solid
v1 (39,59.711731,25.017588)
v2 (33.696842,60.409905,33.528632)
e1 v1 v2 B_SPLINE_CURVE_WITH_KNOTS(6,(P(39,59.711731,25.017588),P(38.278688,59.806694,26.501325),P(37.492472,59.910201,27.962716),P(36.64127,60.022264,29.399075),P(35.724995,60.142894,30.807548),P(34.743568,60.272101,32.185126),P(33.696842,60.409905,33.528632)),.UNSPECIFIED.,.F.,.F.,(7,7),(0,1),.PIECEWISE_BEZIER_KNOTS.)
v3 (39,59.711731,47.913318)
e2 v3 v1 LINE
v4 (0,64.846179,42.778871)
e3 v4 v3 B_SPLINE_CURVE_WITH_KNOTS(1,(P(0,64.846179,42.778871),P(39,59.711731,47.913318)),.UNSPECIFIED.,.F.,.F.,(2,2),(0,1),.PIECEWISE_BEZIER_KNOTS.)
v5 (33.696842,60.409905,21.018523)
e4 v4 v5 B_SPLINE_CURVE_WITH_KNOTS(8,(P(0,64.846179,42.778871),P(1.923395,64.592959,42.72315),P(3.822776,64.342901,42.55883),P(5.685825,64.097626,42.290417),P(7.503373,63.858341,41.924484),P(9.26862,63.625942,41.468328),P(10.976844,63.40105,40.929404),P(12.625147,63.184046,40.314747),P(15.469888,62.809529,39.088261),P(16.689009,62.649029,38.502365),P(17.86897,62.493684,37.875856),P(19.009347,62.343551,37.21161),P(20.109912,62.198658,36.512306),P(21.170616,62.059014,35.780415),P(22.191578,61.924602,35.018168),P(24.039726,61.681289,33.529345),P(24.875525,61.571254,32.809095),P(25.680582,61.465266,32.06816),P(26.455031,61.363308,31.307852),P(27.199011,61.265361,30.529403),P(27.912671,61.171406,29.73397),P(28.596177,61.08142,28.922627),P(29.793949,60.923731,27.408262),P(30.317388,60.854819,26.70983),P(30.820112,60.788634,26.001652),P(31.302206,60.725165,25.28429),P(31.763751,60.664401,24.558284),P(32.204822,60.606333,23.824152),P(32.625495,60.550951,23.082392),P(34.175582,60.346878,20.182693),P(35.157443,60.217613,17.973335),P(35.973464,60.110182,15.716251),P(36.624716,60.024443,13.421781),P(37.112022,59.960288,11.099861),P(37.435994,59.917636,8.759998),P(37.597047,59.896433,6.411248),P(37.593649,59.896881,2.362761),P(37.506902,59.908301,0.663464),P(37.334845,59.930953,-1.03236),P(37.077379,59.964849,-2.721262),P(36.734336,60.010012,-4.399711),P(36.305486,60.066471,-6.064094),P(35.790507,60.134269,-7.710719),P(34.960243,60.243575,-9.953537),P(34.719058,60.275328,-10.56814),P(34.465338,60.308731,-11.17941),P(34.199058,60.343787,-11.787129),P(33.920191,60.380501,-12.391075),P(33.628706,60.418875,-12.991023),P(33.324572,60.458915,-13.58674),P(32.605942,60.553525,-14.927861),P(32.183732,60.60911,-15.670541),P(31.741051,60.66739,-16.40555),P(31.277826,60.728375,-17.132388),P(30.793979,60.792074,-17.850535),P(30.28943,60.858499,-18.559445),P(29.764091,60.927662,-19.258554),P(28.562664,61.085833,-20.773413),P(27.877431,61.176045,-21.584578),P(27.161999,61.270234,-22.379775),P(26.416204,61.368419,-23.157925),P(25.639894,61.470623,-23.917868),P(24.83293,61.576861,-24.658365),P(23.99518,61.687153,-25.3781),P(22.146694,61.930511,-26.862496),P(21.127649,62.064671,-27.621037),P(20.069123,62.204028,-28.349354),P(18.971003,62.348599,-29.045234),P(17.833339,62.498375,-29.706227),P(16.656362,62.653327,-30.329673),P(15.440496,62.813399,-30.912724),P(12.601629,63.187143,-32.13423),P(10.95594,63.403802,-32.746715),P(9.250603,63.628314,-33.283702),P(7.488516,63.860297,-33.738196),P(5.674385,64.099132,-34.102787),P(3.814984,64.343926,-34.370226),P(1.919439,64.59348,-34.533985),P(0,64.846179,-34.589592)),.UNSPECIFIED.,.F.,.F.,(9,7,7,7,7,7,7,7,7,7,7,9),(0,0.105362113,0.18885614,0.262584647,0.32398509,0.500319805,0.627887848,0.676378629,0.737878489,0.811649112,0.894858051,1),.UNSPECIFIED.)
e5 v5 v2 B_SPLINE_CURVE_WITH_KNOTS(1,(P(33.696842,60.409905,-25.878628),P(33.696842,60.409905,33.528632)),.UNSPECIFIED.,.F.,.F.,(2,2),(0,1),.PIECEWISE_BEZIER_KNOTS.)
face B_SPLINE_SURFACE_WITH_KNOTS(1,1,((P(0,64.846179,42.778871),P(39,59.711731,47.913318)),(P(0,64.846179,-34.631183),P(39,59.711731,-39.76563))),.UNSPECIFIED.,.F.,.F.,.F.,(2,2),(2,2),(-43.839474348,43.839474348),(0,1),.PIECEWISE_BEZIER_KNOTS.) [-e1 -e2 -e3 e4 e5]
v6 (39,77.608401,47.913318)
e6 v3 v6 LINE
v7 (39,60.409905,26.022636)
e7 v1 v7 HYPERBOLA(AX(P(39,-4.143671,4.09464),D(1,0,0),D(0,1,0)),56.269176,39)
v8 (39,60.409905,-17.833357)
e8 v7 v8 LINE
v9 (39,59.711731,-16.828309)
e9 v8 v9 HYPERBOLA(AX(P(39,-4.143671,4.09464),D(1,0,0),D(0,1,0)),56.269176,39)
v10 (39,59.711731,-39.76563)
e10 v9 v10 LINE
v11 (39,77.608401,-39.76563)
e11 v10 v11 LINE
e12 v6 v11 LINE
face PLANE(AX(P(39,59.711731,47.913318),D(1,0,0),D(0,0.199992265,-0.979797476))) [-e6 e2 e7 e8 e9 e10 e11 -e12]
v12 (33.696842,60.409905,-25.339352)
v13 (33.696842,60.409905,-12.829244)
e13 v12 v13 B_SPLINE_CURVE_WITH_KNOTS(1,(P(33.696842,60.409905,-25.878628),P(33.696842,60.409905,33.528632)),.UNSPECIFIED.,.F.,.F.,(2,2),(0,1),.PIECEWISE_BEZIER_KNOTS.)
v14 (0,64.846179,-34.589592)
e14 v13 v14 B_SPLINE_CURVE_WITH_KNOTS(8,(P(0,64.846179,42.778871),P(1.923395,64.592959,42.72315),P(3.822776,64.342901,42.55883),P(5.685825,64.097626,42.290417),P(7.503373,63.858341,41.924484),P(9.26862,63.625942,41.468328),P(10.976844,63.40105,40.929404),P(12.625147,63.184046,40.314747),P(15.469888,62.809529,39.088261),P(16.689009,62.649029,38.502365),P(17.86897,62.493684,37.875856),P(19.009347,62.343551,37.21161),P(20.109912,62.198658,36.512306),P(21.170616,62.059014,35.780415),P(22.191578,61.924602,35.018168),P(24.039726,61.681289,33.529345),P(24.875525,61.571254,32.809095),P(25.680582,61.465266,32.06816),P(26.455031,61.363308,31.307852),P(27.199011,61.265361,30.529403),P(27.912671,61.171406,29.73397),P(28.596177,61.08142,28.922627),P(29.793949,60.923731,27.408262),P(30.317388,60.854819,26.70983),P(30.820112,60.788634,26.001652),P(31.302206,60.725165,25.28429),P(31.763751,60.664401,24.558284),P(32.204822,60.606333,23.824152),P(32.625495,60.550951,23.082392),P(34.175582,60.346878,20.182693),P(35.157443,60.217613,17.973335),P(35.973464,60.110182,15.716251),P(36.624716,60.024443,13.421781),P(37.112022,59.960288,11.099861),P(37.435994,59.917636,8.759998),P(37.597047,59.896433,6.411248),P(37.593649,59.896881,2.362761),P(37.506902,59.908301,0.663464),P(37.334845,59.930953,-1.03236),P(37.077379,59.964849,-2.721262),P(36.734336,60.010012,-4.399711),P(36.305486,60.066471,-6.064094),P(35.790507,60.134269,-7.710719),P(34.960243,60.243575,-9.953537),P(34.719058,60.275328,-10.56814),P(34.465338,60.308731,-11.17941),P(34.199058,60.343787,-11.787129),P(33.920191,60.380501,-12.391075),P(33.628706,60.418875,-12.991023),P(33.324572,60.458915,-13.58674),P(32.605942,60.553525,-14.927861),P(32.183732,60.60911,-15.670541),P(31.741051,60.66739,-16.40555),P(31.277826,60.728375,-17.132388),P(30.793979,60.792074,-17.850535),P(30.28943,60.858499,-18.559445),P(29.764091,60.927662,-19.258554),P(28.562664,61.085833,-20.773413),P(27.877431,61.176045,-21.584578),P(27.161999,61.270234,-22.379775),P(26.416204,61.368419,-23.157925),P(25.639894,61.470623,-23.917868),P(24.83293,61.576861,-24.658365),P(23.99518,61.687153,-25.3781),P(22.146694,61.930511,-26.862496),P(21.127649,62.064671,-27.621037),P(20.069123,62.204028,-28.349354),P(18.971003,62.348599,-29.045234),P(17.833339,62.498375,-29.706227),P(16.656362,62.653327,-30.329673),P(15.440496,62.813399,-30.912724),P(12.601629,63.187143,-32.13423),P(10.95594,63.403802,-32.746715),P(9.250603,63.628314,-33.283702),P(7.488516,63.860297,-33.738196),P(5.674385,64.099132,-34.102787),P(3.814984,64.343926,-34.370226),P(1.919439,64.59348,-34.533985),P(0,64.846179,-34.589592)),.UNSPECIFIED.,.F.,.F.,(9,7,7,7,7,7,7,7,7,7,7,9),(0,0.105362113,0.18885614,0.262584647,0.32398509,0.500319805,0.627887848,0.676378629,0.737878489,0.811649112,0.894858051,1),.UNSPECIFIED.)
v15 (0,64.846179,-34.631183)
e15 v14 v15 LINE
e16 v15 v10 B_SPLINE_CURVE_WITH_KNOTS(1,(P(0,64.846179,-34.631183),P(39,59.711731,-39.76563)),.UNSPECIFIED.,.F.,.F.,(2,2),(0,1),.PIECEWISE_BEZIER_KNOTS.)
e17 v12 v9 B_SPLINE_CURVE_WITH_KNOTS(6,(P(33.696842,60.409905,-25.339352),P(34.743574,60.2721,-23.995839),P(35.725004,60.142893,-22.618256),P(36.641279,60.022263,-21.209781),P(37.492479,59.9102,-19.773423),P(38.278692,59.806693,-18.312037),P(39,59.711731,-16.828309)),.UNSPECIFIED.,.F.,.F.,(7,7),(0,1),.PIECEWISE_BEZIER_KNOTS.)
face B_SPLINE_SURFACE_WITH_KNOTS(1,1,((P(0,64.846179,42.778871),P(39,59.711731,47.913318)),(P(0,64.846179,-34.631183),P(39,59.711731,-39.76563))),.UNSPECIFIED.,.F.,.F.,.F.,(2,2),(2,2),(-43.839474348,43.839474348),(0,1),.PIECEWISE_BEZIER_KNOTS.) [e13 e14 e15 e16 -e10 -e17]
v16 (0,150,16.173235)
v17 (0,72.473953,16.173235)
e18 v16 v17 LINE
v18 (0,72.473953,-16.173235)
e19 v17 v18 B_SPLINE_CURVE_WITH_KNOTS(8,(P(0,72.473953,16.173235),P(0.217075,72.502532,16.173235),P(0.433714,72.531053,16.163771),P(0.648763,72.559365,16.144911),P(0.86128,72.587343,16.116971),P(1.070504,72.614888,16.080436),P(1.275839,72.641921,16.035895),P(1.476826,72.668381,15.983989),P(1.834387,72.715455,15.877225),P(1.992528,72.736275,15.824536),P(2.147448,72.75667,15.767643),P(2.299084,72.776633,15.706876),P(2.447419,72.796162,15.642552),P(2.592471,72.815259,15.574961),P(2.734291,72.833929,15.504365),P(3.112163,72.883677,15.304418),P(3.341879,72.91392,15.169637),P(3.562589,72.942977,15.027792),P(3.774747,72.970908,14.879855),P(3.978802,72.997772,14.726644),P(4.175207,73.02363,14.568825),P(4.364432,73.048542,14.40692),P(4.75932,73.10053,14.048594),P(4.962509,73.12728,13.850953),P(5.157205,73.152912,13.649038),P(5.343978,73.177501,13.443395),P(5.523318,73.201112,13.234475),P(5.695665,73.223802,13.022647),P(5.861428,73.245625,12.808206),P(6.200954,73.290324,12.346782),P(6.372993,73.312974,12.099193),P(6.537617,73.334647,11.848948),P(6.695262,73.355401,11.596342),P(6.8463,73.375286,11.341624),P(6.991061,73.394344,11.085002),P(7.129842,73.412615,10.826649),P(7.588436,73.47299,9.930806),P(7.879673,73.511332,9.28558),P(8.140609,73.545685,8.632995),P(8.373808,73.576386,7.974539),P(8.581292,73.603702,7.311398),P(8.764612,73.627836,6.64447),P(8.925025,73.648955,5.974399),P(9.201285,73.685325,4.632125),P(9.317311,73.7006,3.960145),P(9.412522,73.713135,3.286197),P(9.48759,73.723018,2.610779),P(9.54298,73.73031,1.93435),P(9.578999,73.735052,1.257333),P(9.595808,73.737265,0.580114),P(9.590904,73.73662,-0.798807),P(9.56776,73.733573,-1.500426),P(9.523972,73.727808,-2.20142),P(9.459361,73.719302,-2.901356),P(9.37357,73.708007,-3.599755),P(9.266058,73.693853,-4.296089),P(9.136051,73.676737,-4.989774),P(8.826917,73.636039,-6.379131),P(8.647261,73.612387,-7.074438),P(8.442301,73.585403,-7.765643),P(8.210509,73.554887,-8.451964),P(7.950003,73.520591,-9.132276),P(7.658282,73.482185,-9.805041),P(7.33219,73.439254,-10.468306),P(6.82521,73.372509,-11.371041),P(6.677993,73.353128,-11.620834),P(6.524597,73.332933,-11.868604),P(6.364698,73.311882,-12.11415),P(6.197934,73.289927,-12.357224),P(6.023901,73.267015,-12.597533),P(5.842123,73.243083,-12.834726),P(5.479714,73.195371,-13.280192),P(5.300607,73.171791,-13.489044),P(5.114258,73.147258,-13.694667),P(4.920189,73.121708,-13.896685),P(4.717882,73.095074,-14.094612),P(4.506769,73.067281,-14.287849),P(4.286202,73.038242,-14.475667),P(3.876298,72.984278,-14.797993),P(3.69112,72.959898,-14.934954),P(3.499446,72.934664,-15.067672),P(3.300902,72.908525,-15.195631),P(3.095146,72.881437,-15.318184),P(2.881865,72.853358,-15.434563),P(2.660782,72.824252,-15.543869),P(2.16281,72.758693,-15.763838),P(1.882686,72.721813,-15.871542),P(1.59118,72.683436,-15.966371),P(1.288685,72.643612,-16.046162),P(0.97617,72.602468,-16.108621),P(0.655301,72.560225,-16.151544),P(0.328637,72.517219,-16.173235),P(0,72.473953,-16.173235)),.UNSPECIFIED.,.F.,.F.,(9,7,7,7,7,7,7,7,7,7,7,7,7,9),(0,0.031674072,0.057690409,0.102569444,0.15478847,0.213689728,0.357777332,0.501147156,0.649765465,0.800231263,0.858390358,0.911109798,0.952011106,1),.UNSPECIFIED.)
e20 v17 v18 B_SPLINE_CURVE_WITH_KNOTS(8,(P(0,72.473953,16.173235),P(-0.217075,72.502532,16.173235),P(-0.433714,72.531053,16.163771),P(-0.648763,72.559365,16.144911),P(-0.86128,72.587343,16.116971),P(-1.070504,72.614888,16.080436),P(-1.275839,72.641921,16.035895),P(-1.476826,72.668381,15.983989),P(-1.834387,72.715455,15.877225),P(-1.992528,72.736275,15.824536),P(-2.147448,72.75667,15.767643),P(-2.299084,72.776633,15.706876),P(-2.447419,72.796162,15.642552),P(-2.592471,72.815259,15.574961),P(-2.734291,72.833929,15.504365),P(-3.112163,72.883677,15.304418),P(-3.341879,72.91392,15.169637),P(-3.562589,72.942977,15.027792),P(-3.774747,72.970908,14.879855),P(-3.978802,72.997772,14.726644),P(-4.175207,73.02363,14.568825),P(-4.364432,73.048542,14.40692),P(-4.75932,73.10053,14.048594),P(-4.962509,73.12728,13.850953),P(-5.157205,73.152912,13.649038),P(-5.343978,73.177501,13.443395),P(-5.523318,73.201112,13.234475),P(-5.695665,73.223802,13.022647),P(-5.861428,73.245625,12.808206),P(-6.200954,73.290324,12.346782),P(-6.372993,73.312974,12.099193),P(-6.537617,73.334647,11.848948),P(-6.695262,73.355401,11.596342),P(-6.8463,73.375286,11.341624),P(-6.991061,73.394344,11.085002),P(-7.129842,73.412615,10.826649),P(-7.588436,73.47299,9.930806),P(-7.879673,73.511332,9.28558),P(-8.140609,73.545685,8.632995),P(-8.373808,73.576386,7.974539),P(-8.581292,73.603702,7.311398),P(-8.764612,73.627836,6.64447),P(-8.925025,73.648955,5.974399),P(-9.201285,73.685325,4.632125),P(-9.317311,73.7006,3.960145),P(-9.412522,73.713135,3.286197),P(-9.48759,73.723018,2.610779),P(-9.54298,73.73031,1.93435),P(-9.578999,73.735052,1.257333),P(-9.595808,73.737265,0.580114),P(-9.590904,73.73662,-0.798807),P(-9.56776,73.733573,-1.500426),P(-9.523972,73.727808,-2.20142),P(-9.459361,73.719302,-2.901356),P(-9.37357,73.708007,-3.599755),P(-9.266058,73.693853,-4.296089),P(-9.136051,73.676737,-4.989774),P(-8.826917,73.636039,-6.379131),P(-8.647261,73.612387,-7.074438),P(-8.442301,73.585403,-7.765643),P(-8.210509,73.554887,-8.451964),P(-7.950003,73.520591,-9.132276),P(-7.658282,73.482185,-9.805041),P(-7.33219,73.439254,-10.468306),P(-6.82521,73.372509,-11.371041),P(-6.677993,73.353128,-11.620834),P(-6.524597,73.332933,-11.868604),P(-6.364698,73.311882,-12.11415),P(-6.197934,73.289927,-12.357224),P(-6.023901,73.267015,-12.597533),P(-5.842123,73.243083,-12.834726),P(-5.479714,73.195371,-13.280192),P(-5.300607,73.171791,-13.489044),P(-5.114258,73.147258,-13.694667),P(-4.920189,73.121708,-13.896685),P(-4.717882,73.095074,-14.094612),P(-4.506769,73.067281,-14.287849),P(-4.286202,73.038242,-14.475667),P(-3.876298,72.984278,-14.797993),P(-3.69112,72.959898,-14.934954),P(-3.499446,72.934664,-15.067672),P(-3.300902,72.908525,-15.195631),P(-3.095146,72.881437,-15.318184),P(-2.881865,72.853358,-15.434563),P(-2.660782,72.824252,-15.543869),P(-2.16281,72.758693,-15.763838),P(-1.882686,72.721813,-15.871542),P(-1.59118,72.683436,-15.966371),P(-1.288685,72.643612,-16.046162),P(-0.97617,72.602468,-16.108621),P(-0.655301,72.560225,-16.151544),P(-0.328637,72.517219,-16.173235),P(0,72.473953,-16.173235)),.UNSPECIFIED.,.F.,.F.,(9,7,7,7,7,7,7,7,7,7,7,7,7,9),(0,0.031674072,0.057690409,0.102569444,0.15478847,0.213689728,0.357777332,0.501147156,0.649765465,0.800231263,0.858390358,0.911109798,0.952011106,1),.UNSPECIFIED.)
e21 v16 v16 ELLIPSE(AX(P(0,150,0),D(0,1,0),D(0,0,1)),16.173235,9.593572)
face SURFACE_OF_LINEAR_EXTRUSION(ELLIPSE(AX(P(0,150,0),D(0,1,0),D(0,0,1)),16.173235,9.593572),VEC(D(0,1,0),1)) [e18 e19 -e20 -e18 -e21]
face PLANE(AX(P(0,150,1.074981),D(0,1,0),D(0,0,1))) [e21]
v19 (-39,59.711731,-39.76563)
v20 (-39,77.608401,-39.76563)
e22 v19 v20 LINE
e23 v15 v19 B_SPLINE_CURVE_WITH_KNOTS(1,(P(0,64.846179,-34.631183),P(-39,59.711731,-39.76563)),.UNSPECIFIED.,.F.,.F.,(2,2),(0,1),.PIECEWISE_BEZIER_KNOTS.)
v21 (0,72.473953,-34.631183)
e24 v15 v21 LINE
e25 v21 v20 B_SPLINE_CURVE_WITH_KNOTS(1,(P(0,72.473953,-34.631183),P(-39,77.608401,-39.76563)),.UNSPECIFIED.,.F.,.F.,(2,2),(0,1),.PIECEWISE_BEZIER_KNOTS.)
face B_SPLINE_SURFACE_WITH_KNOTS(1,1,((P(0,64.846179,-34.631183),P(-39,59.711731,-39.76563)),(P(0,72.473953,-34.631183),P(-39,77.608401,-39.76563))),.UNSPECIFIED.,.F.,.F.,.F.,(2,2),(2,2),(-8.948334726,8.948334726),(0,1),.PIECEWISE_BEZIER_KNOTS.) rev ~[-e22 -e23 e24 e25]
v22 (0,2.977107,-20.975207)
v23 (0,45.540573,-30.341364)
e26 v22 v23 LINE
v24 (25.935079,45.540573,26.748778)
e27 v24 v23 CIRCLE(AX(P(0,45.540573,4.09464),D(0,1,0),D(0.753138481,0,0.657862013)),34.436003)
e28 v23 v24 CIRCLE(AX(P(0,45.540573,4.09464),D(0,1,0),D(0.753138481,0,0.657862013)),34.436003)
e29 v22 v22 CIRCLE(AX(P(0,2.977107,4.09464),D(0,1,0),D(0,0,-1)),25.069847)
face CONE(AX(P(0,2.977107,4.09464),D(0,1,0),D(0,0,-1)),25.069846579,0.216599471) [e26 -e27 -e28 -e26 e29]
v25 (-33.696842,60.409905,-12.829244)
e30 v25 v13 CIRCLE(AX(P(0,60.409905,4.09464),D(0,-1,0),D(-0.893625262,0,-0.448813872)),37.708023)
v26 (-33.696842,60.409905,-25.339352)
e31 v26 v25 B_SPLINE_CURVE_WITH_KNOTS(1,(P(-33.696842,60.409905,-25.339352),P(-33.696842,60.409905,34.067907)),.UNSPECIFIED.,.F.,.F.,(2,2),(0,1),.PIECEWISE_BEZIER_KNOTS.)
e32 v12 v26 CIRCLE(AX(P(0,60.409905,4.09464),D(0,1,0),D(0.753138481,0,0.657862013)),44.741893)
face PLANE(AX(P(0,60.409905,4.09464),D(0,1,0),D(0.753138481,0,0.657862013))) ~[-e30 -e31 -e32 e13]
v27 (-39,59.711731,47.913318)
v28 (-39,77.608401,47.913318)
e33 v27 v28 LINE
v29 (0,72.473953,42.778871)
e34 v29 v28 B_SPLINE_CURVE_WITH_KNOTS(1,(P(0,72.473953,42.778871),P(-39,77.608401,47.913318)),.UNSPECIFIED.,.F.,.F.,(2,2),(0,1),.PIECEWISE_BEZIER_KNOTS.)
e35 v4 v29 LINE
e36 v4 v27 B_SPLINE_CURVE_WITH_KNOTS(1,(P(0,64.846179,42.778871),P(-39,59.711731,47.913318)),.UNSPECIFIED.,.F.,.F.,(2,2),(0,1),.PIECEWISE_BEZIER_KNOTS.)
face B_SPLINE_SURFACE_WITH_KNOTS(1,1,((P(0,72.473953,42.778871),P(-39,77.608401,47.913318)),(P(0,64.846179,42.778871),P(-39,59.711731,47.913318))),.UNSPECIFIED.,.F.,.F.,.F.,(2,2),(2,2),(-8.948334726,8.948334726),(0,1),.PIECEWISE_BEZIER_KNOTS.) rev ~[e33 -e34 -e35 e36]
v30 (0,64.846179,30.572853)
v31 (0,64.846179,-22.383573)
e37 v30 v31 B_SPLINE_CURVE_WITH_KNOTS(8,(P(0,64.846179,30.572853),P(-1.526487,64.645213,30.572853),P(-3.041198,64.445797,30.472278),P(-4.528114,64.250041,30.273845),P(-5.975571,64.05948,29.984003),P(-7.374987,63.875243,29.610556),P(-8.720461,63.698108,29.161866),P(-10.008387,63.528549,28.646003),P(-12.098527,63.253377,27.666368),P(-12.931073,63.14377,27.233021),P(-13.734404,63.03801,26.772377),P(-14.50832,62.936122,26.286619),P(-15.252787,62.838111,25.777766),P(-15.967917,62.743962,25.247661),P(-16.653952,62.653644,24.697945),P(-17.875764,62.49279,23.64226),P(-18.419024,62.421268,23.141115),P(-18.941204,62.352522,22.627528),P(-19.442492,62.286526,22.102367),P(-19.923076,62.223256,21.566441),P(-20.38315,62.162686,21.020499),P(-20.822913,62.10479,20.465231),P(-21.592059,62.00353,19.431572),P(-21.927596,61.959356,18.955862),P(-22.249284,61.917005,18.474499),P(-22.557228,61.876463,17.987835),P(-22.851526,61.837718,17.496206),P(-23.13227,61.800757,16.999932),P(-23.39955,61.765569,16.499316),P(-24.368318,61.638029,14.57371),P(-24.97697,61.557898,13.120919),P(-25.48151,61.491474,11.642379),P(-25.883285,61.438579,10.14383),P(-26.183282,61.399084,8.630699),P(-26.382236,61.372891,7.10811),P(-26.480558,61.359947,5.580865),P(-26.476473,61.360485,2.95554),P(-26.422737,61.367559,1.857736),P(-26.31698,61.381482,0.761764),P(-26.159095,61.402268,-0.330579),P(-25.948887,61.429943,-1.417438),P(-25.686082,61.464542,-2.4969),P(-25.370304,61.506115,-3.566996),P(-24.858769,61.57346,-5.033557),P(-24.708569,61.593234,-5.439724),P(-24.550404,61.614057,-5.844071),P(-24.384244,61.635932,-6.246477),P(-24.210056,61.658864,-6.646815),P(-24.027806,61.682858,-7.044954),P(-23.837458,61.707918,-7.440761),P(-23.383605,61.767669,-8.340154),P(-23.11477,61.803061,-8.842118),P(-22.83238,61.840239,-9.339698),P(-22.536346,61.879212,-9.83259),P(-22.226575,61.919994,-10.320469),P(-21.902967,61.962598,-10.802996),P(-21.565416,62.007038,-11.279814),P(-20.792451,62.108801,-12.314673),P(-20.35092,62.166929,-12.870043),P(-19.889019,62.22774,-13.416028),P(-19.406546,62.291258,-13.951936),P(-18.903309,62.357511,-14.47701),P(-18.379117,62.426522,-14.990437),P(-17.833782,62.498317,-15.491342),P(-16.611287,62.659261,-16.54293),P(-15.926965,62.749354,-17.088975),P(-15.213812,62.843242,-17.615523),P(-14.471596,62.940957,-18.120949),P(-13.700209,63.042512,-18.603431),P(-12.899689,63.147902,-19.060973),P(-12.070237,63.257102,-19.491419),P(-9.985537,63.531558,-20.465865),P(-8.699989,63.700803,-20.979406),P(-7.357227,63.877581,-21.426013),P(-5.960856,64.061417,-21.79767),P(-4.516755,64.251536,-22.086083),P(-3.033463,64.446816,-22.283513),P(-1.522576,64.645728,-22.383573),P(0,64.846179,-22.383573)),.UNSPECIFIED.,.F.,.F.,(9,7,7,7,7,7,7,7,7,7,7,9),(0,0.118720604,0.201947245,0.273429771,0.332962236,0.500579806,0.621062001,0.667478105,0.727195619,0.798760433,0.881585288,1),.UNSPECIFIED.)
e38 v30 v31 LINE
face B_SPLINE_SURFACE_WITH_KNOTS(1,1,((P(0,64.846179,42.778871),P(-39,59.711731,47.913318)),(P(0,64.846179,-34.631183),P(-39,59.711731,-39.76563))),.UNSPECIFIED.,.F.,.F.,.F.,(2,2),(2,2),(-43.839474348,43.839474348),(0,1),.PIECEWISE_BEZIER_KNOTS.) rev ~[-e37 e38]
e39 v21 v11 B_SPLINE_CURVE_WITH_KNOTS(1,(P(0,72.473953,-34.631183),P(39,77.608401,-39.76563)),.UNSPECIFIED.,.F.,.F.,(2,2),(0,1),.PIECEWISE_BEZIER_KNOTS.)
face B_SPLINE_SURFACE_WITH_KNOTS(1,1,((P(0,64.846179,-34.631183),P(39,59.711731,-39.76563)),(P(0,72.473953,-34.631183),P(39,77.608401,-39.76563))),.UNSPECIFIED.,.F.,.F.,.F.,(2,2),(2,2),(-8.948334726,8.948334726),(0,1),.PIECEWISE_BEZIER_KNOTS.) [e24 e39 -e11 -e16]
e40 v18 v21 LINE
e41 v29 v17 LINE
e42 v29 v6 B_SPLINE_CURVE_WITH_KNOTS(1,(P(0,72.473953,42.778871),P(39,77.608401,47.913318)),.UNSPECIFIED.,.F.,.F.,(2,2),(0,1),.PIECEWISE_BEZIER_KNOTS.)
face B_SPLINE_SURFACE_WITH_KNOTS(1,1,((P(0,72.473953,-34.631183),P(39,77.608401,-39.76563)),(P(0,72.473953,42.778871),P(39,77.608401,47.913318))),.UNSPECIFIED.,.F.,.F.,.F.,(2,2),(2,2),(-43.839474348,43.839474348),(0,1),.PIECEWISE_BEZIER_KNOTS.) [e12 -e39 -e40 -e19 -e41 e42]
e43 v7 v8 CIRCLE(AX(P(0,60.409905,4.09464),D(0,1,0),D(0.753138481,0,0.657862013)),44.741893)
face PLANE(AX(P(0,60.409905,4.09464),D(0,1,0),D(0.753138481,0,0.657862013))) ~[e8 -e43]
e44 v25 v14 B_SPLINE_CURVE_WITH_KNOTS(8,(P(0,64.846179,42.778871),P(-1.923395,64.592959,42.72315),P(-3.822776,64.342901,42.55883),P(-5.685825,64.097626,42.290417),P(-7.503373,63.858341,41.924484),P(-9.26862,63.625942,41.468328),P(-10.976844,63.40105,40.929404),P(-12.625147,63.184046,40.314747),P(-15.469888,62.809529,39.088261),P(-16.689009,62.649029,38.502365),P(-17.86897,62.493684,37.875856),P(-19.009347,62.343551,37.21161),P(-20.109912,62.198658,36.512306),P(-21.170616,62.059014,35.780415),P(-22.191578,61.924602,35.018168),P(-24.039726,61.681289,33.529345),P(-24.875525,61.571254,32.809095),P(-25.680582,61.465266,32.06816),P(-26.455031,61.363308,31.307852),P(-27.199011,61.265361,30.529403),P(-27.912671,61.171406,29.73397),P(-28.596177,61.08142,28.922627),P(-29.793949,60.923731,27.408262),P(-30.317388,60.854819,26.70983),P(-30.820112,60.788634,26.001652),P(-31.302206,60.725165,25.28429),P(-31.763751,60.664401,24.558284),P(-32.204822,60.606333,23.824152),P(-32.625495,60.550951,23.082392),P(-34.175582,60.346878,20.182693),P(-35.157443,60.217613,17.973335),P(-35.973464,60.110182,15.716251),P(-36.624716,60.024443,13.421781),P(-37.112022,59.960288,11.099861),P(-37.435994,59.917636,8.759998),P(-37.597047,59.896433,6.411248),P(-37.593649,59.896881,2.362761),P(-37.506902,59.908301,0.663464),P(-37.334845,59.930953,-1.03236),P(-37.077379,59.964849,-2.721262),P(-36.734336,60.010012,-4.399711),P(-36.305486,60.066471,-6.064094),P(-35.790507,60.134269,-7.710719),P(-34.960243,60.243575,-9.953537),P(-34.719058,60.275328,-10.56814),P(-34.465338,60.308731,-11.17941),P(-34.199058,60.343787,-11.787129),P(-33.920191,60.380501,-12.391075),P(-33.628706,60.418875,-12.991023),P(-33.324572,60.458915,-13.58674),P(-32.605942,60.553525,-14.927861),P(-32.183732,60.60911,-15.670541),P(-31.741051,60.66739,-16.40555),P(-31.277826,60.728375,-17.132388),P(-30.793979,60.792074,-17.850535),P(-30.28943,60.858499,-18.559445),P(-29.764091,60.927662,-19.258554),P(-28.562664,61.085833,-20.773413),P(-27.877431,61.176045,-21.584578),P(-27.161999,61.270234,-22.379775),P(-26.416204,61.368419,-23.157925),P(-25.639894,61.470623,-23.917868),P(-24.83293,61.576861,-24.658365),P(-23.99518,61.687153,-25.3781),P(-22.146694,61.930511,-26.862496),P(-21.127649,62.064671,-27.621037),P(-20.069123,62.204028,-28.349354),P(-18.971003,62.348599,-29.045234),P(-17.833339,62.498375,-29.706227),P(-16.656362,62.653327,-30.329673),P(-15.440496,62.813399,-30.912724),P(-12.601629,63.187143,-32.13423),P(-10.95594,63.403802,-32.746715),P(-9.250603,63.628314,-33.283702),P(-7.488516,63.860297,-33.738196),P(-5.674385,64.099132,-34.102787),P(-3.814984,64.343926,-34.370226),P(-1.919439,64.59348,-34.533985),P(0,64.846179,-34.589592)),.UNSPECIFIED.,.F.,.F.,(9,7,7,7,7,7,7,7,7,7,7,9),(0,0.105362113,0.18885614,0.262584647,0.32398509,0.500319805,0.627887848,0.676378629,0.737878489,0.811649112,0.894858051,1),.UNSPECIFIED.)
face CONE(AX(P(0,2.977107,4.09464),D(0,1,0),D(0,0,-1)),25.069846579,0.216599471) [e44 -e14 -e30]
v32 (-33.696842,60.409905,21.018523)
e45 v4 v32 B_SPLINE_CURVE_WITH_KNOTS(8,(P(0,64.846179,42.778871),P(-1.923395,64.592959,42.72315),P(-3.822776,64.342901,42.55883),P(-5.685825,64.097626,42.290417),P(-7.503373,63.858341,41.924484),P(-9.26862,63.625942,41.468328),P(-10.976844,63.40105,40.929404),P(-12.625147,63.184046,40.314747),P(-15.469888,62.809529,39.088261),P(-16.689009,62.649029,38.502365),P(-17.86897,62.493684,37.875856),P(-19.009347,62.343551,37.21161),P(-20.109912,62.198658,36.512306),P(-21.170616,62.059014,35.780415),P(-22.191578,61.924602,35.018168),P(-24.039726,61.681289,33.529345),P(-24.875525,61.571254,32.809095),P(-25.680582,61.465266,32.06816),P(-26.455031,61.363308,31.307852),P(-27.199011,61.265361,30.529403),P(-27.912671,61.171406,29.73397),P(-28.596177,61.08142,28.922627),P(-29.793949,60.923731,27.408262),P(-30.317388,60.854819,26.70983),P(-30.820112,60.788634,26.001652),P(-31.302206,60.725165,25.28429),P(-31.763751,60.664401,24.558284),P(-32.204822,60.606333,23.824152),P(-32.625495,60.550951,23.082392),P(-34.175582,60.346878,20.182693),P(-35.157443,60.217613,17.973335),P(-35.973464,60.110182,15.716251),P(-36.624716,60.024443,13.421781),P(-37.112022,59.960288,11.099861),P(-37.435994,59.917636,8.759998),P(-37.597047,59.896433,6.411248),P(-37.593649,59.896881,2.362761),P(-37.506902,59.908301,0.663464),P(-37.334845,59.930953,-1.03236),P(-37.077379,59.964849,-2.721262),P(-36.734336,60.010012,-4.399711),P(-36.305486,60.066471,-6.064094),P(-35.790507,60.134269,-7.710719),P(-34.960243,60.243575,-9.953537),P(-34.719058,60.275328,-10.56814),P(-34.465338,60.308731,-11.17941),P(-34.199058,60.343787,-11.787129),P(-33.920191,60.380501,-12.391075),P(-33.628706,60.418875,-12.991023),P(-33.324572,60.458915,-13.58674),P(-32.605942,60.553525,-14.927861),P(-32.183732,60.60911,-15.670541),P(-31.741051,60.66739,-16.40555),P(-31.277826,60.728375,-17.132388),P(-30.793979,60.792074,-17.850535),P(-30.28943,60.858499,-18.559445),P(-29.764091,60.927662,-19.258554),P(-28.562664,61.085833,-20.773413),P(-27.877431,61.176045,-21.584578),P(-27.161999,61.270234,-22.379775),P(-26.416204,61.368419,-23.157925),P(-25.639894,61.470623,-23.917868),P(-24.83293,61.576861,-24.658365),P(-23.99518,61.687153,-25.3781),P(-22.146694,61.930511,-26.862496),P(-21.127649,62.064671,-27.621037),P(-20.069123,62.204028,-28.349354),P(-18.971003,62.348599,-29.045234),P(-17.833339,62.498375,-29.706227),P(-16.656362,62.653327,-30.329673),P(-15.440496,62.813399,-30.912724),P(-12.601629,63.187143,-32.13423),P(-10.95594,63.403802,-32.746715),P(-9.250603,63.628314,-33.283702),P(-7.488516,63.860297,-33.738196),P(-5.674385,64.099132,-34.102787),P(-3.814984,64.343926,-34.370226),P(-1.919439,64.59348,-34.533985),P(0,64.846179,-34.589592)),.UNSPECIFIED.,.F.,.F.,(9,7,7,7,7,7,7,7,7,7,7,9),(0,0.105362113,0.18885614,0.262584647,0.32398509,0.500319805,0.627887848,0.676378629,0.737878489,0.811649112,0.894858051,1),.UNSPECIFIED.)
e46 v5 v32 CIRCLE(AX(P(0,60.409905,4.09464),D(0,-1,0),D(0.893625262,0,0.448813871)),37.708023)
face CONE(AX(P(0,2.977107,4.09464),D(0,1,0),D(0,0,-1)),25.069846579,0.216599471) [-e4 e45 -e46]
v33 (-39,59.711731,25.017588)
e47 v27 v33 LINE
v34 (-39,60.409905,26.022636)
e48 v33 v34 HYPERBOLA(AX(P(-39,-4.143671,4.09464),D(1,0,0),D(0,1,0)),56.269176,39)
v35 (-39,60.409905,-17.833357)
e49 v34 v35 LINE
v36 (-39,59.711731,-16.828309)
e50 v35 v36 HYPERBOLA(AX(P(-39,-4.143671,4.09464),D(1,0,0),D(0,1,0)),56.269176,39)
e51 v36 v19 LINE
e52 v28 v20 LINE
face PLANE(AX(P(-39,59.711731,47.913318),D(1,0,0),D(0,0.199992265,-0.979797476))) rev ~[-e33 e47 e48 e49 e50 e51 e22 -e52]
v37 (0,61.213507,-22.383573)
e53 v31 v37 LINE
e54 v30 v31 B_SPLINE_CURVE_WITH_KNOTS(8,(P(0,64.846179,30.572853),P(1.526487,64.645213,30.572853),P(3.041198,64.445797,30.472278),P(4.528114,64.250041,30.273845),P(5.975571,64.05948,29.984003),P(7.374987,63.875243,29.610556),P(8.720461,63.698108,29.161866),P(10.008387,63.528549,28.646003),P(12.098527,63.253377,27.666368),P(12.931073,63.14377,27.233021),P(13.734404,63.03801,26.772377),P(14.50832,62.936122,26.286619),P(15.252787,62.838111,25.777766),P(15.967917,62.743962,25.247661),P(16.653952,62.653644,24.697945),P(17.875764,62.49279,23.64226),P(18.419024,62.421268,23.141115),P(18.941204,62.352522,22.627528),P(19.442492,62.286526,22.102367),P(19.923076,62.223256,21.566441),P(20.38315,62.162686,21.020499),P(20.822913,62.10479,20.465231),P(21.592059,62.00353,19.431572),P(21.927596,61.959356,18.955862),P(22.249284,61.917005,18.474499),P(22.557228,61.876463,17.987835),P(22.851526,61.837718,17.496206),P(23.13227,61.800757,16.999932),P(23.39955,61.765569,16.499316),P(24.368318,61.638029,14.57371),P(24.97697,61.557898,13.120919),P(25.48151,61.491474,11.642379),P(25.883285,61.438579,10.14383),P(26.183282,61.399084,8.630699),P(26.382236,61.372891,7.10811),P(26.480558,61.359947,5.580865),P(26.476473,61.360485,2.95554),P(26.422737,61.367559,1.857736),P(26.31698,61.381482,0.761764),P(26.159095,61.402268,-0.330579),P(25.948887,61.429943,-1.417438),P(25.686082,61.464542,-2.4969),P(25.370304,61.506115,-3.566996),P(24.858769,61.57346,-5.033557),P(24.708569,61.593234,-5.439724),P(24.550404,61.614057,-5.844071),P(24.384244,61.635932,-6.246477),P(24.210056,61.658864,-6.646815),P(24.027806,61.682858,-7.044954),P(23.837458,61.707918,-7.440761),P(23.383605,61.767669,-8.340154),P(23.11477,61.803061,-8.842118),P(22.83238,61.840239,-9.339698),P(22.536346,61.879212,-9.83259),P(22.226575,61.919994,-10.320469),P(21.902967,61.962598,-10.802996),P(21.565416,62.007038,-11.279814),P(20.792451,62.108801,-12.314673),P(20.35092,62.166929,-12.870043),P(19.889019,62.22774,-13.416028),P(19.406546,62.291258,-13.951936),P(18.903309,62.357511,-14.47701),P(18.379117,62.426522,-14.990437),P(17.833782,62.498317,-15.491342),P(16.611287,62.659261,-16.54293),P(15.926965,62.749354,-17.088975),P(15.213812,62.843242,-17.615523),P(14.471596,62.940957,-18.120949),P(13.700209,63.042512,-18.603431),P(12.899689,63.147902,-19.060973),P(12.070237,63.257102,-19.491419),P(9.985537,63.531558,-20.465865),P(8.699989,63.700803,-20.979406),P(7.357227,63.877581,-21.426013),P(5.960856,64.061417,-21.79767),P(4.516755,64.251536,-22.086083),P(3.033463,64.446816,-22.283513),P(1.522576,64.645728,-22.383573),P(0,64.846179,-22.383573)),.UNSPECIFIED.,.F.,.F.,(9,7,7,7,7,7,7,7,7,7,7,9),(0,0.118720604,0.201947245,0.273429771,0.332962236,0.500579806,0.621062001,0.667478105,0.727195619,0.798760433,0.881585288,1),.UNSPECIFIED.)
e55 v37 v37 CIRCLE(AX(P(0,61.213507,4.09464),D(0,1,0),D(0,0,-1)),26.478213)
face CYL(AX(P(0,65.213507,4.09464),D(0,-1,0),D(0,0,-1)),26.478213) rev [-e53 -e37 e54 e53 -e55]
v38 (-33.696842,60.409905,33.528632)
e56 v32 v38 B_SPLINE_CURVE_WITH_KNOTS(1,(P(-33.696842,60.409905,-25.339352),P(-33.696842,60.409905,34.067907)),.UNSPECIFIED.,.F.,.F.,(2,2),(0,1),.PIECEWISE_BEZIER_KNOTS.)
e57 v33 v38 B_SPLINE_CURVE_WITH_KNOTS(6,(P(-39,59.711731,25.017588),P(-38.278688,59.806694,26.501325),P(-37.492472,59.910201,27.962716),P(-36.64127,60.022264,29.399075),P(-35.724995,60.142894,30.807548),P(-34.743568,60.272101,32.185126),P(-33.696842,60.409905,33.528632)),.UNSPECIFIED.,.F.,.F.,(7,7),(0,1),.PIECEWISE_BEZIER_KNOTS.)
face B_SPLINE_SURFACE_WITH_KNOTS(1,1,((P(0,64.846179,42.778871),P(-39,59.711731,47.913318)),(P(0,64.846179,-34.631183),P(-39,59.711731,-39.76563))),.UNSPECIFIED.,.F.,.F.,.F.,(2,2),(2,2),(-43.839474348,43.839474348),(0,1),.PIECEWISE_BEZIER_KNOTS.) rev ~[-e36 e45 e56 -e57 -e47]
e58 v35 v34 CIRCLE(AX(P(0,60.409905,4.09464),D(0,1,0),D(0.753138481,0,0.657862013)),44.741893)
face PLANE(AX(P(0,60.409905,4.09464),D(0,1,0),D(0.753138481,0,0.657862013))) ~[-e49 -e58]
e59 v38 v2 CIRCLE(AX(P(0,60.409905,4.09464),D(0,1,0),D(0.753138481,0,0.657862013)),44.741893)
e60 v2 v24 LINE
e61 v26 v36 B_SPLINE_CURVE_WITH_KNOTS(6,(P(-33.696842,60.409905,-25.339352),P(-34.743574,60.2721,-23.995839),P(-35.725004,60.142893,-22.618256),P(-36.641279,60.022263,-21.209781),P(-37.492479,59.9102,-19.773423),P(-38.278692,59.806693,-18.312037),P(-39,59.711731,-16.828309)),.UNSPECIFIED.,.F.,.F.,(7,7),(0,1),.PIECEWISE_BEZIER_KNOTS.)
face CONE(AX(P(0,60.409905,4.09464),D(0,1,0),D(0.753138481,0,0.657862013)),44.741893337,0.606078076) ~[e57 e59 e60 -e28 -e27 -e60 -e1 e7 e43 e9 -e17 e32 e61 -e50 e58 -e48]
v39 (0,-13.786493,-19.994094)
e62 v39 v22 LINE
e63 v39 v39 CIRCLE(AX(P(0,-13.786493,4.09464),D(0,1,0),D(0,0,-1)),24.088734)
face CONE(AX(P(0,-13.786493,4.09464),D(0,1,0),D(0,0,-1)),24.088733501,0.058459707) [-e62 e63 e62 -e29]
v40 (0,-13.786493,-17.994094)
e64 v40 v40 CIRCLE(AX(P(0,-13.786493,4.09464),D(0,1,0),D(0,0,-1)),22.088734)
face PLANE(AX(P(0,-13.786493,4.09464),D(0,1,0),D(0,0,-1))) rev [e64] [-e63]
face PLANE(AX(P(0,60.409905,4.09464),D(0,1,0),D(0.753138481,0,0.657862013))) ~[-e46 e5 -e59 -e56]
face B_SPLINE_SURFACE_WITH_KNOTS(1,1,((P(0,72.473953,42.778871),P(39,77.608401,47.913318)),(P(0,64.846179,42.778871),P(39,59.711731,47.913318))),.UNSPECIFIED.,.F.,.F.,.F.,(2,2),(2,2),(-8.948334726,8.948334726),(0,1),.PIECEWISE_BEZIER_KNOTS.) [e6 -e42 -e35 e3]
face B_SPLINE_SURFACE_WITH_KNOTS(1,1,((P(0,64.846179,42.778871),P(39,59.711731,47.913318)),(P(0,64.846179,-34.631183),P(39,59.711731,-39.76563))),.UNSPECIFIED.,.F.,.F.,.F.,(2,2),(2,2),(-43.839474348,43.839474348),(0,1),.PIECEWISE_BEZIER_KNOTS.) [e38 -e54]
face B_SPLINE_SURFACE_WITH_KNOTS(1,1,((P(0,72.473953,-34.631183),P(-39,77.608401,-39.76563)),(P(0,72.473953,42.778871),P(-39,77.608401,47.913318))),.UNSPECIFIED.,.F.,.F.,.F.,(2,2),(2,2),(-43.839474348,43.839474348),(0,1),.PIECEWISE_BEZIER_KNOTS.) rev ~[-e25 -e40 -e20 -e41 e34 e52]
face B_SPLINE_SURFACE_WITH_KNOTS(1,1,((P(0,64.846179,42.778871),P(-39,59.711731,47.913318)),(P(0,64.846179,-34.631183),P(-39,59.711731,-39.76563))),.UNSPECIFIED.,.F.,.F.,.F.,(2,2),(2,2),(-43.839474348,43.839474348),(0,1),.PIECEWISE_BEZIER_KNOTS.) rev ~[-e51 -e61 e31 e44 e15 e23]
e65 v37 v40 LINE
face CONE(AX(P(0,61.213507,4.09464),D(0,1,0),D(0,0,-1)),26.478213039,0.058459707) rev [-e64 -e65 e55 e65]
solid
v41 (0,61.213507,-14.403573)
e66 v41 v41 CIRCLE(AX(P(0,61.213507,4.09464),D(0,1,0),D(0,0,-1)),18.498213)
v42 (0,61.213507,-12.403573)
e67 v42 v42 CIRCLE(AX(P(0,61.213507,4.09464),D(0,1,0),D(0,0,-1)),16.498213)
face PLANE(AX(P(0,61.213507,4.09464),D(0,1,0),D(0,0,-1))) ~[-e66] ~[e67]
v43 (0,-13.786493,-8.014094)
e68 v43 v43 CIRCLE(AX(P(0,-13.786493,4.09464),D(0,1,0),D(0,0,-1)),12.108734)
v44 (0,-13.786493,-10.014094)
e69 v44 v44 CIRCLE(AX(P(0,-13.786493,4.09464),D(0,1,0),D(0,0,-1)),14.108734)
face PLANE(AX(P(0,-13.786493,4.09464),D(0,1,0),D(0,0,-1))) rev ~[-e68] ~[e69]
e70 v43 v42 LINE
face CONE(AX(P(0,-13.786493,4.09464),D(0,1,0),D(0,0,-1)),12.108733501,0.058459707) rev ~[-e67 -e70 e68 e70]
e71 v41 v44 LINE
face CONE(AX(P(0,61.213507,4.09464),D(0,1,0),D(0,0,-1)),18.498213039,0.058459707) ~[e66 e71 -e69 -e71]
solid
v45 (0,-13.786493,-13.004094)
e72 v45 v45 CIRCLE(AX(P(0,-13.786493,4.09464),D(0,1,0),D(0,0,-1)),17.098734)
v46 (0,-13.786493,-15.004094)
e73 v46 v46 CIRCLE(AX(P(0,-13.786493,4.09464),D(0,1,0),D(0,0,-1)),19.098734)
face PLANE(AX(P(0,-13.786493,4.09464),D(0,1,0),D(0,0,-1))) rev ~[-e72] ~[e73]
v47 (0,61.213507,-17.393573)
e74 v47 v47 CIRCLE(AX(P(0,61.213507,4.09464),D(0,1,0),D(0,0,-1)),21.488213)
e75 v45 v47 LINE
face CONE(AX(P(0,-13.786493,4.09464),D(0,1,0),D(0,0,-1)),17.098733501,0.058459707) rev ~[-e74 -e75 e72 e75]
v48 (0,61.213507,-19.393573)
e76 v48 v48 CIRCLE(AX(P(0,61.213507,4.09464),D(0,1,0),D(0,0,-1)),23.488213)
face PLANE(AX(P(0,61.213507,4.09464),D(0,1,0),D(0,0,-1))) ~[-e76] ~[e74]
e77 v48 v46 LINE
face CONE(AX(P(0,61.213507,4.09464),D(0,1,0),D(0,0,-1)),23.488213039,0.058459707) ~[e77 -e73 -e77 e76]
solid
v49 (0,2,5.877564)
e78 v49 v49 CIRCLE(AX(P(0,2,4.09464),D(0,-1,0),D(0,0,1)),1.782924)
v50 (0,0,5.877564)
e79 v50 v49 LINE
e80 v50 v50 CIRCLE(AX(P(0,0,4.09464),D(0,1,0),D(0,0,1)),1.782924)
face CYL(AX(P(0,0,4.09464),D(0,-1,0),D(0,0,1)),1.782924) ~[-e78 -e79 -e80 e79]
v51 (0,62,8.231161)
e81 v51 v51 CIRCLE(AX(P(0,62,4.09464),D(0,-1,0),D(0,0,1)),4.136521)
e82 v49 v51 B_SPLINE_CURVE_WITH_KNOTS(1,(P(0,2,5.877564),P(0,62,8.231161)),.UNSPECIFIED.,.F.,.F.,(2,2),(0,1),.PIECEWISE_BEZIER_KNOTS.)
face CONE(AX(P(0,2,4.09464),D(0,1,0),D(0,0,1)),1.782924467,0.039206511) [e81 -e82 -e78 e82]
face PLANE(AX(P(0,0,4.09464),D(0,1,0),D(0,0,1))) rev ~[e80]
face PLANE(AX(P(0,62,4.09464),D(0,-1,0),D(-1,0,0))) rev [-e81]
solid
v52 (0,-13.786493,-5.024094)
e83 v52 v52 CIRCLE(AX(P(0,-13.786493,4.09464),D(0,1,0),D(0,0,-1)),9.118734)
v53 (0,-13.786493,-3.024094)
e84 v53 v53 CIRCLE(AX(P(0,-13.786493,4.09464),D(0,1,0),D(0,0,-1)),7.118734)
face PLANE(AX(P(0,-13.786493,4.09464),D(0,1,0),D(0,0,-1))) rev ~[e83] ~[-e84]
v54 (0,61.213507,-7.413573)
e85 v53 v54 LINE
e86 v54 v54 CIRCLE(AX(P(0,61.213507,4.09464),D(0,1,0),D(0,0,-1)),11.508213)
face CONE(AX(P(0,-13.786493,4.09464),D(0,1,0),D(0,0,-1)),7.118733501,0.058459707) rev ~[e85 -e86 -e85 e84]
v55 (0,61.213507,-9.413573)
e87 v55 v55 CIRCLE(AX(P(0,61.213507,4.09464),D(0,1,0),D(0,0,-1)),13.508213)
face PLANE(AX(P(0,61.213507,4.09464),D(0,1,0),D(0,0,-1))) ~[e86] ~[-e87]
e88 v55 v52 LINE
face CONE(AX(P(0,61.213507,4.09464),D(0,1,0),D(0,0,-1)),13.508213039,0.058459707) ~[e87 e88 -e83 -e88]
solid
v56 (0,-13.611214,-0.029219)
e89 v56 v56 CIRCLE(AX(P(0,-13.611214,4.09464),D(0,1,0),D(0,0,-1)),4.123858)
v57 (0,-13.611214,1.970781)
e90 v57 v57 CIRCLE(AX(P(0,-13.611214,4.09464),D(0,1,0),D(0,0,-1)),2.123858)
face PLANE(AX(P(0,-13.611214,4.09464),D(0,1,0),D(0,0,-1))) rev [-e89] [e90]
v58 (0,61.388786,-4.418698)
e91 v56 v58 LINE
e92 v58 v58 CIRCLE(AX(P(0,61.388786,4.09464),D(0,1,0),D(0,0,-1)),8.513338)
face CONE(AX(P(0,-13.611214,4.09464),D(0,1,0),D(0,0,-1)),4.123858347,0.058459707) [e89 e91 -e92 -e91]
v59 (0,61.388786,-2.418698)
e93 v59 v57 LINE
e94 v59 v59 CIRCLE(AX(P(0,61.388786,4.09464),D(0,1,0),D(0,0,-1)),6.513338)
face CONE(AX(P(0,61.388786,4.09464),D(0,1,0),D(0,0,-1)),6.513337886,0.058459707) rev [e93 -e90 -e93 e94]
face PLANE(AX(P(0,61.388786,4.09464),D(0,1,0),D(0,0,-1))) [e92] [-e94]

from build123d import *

# Parameters (mm, degrees)
CROQUIS2_R                        = 1.782924467
SALIENTE_EXTRUIR1_DEPTH           = 2
CROQUIS3_R                        = 4.136521179
CROQUIS5_W                        = 77.410053885
CROQUIS5_H                        = 7.627774641
SALIENTE_EXTRUIR2_DEPTH           = 39
SALIENTE_EXTRUIR2_TAPER           = -7.5
SALIENTE_EXTRUIR2_OTHER_WAY_DEPTH = 39
SALIENTE_EXTRUIR2_OTHER_WAY_TAPER = -7.5
CROQUIS7_RX                       = 16.173234621
CROQUIS7_RY                       = 9.593572243
SALIENTE_EXTRUIR3_DEPTH           = 78


with BuildPart() as part:
    # Croquis1 → Revolución1 (revolve)
    with BuildSketch(Plane(origin=(0, 0, 0), x_dir=(0, 0, -1), z_dir=(1, 0, 0)), mode=Mode.PRIVATE) as revoluci_n1_sk:
        Polygon((-15.602852663, 61.213506643), (-17.602852663, 61.213506643), (-13.213373125, -13.786493357), (-11.213373125, -13.786493357), align=None)
        Polygon((-16.203373125, -13.786493357), (-20.592852663, 61.213506643), (-22.592852663, 61.213506643), (-18.203373125, -13.786493357), align=None)
        Polygon((-21.193373125, -13.786493357), (-25.582852663, 61.213506643), (-27.582852663, 61.213506643), (-23.193373125, -13.786493357), align=None)
        Polygon((-30.572852663, 65.213506643), (-30.572852663, 61.213506643), (-26.183373125, -13.786493357), (-28.183373125, -13.786493357), (-29.164486203, 2.977107026), (-42.778871063, 64.846178561), align=None)
        Polygon((-10.60797751, 61.388785885), (-6.218497971, -13.611214115), (-8.218497971, -13.611214115), (-12.60797751, 61.388785885), align=None)
    revolve(revoluci_n1_sk.sketch.rotate(Axis((0, 0.969997308, 4.094639624), (0, 1, 0)), 180), axis=Axis((0, 0.969997308, 4.094639624), (0, 1, 0)))

    # Croquis5 → Saliente-Extruir2 (add)
    with BuildSketch(Plane(origin=(0, 0, 0), x_dir=(0, 0, -1), z_dir=(1, 0, 0))):
        with Locations((-4.073844121, 68.660065882)):
            Rectangle(CROQUIS5_W, CROQUIS5_H)
    extrude(amount=SALIENTE_EXTRUIR2_DEPTH, taper=SALIENTE_EXTRUIR2_TAPER)

    # Croquis5 → Saliente-Extruir2 other way (add)
    with BuildSketch(Plane(origin=(0, 0, 0), x_dir=(0, 0, -1), z_dir=(1, 0, 0))):
        with Locations((-4.073844121, 68.660065882)):
            Rectangle(CROQUIS5_W, CROQUIS5_H)
    extrude(amount=-SALIENTE_EXTRUIR2_OTHER_WAY_DEPTH, taper=SALIENTE_EXTRUIR2_OTHER_WAY_TAPER)

    # Croquis7 → Saliente-Extruir3 (add)
    with BuildSketch(Plane(origin=(0, 150, 0), x_dir=(1, 0, 0), z_dir=(0, 1, 0))):
        with Locations(Location((0, 0), (0, 0, -90))):
            Ellipse(CROQUIS7_RX, CROQUIS7_RY)
    extrude(amount=-SALIENTE_EXTRUIR3_DEPTH)

    # Croquis8 → Revolución4 (revolve)
    with BuildSketch(Plane(origin=(0, 0, 0), x_dir=(0, 0, -1), z_dir=(1, 0, 0)), mode=Mode.PRIVATE) as revoluci_n4_sk:
        Polygon((-41.802662251, 60.409905205), (-48.836532961, 60.409905205), (-38.53064276, 45.540573244), align=None)
    revolve(revoluci_n4_sk.sketch.rotate(Axis((0, -13.786493357, 4.094639624), (0, 1, 0)), 48.862979135), axis=Axis((0, -13.786493357, 4.094639624), (0, 1, 0)))


with BuildPart() as body_2:
    # Croquis2 → Saliente-Extruir1 (new body)
    with BuildSketch(Plane(origin=(0, 0, 0), x_dir=(1, 0, 0), z_dir=(0, 1, 0))):
        with Locations(Location((0, -4.094639624, 0), (0, 0, 270))):
            Circle(CROQUIS2_R)
    extrude(amount=SALIENTE_EXTRUIR1_DEPTH)

    # Croquis3 → section 1 of recubrir1
    with BuildSketch(Plane(origin=(0, 62, 0), x_dir=(-1, 0, 0), z_dir=(0, -1, 0)), mode=Mode.PRIVATE) as recubrir1_s1:
        with Locations((0, -4.094639624)):
            Circle(CROQUIS3_R)
    # loft up to a face of the part (recubrir1)
    loft([Face(Wire([body_2.edges().sort_by_distance((1.299696001, 2, 2.87414384))[0]])), recubrir1_s1.sketch])


solid = Compound([part.part, body_2.part])
